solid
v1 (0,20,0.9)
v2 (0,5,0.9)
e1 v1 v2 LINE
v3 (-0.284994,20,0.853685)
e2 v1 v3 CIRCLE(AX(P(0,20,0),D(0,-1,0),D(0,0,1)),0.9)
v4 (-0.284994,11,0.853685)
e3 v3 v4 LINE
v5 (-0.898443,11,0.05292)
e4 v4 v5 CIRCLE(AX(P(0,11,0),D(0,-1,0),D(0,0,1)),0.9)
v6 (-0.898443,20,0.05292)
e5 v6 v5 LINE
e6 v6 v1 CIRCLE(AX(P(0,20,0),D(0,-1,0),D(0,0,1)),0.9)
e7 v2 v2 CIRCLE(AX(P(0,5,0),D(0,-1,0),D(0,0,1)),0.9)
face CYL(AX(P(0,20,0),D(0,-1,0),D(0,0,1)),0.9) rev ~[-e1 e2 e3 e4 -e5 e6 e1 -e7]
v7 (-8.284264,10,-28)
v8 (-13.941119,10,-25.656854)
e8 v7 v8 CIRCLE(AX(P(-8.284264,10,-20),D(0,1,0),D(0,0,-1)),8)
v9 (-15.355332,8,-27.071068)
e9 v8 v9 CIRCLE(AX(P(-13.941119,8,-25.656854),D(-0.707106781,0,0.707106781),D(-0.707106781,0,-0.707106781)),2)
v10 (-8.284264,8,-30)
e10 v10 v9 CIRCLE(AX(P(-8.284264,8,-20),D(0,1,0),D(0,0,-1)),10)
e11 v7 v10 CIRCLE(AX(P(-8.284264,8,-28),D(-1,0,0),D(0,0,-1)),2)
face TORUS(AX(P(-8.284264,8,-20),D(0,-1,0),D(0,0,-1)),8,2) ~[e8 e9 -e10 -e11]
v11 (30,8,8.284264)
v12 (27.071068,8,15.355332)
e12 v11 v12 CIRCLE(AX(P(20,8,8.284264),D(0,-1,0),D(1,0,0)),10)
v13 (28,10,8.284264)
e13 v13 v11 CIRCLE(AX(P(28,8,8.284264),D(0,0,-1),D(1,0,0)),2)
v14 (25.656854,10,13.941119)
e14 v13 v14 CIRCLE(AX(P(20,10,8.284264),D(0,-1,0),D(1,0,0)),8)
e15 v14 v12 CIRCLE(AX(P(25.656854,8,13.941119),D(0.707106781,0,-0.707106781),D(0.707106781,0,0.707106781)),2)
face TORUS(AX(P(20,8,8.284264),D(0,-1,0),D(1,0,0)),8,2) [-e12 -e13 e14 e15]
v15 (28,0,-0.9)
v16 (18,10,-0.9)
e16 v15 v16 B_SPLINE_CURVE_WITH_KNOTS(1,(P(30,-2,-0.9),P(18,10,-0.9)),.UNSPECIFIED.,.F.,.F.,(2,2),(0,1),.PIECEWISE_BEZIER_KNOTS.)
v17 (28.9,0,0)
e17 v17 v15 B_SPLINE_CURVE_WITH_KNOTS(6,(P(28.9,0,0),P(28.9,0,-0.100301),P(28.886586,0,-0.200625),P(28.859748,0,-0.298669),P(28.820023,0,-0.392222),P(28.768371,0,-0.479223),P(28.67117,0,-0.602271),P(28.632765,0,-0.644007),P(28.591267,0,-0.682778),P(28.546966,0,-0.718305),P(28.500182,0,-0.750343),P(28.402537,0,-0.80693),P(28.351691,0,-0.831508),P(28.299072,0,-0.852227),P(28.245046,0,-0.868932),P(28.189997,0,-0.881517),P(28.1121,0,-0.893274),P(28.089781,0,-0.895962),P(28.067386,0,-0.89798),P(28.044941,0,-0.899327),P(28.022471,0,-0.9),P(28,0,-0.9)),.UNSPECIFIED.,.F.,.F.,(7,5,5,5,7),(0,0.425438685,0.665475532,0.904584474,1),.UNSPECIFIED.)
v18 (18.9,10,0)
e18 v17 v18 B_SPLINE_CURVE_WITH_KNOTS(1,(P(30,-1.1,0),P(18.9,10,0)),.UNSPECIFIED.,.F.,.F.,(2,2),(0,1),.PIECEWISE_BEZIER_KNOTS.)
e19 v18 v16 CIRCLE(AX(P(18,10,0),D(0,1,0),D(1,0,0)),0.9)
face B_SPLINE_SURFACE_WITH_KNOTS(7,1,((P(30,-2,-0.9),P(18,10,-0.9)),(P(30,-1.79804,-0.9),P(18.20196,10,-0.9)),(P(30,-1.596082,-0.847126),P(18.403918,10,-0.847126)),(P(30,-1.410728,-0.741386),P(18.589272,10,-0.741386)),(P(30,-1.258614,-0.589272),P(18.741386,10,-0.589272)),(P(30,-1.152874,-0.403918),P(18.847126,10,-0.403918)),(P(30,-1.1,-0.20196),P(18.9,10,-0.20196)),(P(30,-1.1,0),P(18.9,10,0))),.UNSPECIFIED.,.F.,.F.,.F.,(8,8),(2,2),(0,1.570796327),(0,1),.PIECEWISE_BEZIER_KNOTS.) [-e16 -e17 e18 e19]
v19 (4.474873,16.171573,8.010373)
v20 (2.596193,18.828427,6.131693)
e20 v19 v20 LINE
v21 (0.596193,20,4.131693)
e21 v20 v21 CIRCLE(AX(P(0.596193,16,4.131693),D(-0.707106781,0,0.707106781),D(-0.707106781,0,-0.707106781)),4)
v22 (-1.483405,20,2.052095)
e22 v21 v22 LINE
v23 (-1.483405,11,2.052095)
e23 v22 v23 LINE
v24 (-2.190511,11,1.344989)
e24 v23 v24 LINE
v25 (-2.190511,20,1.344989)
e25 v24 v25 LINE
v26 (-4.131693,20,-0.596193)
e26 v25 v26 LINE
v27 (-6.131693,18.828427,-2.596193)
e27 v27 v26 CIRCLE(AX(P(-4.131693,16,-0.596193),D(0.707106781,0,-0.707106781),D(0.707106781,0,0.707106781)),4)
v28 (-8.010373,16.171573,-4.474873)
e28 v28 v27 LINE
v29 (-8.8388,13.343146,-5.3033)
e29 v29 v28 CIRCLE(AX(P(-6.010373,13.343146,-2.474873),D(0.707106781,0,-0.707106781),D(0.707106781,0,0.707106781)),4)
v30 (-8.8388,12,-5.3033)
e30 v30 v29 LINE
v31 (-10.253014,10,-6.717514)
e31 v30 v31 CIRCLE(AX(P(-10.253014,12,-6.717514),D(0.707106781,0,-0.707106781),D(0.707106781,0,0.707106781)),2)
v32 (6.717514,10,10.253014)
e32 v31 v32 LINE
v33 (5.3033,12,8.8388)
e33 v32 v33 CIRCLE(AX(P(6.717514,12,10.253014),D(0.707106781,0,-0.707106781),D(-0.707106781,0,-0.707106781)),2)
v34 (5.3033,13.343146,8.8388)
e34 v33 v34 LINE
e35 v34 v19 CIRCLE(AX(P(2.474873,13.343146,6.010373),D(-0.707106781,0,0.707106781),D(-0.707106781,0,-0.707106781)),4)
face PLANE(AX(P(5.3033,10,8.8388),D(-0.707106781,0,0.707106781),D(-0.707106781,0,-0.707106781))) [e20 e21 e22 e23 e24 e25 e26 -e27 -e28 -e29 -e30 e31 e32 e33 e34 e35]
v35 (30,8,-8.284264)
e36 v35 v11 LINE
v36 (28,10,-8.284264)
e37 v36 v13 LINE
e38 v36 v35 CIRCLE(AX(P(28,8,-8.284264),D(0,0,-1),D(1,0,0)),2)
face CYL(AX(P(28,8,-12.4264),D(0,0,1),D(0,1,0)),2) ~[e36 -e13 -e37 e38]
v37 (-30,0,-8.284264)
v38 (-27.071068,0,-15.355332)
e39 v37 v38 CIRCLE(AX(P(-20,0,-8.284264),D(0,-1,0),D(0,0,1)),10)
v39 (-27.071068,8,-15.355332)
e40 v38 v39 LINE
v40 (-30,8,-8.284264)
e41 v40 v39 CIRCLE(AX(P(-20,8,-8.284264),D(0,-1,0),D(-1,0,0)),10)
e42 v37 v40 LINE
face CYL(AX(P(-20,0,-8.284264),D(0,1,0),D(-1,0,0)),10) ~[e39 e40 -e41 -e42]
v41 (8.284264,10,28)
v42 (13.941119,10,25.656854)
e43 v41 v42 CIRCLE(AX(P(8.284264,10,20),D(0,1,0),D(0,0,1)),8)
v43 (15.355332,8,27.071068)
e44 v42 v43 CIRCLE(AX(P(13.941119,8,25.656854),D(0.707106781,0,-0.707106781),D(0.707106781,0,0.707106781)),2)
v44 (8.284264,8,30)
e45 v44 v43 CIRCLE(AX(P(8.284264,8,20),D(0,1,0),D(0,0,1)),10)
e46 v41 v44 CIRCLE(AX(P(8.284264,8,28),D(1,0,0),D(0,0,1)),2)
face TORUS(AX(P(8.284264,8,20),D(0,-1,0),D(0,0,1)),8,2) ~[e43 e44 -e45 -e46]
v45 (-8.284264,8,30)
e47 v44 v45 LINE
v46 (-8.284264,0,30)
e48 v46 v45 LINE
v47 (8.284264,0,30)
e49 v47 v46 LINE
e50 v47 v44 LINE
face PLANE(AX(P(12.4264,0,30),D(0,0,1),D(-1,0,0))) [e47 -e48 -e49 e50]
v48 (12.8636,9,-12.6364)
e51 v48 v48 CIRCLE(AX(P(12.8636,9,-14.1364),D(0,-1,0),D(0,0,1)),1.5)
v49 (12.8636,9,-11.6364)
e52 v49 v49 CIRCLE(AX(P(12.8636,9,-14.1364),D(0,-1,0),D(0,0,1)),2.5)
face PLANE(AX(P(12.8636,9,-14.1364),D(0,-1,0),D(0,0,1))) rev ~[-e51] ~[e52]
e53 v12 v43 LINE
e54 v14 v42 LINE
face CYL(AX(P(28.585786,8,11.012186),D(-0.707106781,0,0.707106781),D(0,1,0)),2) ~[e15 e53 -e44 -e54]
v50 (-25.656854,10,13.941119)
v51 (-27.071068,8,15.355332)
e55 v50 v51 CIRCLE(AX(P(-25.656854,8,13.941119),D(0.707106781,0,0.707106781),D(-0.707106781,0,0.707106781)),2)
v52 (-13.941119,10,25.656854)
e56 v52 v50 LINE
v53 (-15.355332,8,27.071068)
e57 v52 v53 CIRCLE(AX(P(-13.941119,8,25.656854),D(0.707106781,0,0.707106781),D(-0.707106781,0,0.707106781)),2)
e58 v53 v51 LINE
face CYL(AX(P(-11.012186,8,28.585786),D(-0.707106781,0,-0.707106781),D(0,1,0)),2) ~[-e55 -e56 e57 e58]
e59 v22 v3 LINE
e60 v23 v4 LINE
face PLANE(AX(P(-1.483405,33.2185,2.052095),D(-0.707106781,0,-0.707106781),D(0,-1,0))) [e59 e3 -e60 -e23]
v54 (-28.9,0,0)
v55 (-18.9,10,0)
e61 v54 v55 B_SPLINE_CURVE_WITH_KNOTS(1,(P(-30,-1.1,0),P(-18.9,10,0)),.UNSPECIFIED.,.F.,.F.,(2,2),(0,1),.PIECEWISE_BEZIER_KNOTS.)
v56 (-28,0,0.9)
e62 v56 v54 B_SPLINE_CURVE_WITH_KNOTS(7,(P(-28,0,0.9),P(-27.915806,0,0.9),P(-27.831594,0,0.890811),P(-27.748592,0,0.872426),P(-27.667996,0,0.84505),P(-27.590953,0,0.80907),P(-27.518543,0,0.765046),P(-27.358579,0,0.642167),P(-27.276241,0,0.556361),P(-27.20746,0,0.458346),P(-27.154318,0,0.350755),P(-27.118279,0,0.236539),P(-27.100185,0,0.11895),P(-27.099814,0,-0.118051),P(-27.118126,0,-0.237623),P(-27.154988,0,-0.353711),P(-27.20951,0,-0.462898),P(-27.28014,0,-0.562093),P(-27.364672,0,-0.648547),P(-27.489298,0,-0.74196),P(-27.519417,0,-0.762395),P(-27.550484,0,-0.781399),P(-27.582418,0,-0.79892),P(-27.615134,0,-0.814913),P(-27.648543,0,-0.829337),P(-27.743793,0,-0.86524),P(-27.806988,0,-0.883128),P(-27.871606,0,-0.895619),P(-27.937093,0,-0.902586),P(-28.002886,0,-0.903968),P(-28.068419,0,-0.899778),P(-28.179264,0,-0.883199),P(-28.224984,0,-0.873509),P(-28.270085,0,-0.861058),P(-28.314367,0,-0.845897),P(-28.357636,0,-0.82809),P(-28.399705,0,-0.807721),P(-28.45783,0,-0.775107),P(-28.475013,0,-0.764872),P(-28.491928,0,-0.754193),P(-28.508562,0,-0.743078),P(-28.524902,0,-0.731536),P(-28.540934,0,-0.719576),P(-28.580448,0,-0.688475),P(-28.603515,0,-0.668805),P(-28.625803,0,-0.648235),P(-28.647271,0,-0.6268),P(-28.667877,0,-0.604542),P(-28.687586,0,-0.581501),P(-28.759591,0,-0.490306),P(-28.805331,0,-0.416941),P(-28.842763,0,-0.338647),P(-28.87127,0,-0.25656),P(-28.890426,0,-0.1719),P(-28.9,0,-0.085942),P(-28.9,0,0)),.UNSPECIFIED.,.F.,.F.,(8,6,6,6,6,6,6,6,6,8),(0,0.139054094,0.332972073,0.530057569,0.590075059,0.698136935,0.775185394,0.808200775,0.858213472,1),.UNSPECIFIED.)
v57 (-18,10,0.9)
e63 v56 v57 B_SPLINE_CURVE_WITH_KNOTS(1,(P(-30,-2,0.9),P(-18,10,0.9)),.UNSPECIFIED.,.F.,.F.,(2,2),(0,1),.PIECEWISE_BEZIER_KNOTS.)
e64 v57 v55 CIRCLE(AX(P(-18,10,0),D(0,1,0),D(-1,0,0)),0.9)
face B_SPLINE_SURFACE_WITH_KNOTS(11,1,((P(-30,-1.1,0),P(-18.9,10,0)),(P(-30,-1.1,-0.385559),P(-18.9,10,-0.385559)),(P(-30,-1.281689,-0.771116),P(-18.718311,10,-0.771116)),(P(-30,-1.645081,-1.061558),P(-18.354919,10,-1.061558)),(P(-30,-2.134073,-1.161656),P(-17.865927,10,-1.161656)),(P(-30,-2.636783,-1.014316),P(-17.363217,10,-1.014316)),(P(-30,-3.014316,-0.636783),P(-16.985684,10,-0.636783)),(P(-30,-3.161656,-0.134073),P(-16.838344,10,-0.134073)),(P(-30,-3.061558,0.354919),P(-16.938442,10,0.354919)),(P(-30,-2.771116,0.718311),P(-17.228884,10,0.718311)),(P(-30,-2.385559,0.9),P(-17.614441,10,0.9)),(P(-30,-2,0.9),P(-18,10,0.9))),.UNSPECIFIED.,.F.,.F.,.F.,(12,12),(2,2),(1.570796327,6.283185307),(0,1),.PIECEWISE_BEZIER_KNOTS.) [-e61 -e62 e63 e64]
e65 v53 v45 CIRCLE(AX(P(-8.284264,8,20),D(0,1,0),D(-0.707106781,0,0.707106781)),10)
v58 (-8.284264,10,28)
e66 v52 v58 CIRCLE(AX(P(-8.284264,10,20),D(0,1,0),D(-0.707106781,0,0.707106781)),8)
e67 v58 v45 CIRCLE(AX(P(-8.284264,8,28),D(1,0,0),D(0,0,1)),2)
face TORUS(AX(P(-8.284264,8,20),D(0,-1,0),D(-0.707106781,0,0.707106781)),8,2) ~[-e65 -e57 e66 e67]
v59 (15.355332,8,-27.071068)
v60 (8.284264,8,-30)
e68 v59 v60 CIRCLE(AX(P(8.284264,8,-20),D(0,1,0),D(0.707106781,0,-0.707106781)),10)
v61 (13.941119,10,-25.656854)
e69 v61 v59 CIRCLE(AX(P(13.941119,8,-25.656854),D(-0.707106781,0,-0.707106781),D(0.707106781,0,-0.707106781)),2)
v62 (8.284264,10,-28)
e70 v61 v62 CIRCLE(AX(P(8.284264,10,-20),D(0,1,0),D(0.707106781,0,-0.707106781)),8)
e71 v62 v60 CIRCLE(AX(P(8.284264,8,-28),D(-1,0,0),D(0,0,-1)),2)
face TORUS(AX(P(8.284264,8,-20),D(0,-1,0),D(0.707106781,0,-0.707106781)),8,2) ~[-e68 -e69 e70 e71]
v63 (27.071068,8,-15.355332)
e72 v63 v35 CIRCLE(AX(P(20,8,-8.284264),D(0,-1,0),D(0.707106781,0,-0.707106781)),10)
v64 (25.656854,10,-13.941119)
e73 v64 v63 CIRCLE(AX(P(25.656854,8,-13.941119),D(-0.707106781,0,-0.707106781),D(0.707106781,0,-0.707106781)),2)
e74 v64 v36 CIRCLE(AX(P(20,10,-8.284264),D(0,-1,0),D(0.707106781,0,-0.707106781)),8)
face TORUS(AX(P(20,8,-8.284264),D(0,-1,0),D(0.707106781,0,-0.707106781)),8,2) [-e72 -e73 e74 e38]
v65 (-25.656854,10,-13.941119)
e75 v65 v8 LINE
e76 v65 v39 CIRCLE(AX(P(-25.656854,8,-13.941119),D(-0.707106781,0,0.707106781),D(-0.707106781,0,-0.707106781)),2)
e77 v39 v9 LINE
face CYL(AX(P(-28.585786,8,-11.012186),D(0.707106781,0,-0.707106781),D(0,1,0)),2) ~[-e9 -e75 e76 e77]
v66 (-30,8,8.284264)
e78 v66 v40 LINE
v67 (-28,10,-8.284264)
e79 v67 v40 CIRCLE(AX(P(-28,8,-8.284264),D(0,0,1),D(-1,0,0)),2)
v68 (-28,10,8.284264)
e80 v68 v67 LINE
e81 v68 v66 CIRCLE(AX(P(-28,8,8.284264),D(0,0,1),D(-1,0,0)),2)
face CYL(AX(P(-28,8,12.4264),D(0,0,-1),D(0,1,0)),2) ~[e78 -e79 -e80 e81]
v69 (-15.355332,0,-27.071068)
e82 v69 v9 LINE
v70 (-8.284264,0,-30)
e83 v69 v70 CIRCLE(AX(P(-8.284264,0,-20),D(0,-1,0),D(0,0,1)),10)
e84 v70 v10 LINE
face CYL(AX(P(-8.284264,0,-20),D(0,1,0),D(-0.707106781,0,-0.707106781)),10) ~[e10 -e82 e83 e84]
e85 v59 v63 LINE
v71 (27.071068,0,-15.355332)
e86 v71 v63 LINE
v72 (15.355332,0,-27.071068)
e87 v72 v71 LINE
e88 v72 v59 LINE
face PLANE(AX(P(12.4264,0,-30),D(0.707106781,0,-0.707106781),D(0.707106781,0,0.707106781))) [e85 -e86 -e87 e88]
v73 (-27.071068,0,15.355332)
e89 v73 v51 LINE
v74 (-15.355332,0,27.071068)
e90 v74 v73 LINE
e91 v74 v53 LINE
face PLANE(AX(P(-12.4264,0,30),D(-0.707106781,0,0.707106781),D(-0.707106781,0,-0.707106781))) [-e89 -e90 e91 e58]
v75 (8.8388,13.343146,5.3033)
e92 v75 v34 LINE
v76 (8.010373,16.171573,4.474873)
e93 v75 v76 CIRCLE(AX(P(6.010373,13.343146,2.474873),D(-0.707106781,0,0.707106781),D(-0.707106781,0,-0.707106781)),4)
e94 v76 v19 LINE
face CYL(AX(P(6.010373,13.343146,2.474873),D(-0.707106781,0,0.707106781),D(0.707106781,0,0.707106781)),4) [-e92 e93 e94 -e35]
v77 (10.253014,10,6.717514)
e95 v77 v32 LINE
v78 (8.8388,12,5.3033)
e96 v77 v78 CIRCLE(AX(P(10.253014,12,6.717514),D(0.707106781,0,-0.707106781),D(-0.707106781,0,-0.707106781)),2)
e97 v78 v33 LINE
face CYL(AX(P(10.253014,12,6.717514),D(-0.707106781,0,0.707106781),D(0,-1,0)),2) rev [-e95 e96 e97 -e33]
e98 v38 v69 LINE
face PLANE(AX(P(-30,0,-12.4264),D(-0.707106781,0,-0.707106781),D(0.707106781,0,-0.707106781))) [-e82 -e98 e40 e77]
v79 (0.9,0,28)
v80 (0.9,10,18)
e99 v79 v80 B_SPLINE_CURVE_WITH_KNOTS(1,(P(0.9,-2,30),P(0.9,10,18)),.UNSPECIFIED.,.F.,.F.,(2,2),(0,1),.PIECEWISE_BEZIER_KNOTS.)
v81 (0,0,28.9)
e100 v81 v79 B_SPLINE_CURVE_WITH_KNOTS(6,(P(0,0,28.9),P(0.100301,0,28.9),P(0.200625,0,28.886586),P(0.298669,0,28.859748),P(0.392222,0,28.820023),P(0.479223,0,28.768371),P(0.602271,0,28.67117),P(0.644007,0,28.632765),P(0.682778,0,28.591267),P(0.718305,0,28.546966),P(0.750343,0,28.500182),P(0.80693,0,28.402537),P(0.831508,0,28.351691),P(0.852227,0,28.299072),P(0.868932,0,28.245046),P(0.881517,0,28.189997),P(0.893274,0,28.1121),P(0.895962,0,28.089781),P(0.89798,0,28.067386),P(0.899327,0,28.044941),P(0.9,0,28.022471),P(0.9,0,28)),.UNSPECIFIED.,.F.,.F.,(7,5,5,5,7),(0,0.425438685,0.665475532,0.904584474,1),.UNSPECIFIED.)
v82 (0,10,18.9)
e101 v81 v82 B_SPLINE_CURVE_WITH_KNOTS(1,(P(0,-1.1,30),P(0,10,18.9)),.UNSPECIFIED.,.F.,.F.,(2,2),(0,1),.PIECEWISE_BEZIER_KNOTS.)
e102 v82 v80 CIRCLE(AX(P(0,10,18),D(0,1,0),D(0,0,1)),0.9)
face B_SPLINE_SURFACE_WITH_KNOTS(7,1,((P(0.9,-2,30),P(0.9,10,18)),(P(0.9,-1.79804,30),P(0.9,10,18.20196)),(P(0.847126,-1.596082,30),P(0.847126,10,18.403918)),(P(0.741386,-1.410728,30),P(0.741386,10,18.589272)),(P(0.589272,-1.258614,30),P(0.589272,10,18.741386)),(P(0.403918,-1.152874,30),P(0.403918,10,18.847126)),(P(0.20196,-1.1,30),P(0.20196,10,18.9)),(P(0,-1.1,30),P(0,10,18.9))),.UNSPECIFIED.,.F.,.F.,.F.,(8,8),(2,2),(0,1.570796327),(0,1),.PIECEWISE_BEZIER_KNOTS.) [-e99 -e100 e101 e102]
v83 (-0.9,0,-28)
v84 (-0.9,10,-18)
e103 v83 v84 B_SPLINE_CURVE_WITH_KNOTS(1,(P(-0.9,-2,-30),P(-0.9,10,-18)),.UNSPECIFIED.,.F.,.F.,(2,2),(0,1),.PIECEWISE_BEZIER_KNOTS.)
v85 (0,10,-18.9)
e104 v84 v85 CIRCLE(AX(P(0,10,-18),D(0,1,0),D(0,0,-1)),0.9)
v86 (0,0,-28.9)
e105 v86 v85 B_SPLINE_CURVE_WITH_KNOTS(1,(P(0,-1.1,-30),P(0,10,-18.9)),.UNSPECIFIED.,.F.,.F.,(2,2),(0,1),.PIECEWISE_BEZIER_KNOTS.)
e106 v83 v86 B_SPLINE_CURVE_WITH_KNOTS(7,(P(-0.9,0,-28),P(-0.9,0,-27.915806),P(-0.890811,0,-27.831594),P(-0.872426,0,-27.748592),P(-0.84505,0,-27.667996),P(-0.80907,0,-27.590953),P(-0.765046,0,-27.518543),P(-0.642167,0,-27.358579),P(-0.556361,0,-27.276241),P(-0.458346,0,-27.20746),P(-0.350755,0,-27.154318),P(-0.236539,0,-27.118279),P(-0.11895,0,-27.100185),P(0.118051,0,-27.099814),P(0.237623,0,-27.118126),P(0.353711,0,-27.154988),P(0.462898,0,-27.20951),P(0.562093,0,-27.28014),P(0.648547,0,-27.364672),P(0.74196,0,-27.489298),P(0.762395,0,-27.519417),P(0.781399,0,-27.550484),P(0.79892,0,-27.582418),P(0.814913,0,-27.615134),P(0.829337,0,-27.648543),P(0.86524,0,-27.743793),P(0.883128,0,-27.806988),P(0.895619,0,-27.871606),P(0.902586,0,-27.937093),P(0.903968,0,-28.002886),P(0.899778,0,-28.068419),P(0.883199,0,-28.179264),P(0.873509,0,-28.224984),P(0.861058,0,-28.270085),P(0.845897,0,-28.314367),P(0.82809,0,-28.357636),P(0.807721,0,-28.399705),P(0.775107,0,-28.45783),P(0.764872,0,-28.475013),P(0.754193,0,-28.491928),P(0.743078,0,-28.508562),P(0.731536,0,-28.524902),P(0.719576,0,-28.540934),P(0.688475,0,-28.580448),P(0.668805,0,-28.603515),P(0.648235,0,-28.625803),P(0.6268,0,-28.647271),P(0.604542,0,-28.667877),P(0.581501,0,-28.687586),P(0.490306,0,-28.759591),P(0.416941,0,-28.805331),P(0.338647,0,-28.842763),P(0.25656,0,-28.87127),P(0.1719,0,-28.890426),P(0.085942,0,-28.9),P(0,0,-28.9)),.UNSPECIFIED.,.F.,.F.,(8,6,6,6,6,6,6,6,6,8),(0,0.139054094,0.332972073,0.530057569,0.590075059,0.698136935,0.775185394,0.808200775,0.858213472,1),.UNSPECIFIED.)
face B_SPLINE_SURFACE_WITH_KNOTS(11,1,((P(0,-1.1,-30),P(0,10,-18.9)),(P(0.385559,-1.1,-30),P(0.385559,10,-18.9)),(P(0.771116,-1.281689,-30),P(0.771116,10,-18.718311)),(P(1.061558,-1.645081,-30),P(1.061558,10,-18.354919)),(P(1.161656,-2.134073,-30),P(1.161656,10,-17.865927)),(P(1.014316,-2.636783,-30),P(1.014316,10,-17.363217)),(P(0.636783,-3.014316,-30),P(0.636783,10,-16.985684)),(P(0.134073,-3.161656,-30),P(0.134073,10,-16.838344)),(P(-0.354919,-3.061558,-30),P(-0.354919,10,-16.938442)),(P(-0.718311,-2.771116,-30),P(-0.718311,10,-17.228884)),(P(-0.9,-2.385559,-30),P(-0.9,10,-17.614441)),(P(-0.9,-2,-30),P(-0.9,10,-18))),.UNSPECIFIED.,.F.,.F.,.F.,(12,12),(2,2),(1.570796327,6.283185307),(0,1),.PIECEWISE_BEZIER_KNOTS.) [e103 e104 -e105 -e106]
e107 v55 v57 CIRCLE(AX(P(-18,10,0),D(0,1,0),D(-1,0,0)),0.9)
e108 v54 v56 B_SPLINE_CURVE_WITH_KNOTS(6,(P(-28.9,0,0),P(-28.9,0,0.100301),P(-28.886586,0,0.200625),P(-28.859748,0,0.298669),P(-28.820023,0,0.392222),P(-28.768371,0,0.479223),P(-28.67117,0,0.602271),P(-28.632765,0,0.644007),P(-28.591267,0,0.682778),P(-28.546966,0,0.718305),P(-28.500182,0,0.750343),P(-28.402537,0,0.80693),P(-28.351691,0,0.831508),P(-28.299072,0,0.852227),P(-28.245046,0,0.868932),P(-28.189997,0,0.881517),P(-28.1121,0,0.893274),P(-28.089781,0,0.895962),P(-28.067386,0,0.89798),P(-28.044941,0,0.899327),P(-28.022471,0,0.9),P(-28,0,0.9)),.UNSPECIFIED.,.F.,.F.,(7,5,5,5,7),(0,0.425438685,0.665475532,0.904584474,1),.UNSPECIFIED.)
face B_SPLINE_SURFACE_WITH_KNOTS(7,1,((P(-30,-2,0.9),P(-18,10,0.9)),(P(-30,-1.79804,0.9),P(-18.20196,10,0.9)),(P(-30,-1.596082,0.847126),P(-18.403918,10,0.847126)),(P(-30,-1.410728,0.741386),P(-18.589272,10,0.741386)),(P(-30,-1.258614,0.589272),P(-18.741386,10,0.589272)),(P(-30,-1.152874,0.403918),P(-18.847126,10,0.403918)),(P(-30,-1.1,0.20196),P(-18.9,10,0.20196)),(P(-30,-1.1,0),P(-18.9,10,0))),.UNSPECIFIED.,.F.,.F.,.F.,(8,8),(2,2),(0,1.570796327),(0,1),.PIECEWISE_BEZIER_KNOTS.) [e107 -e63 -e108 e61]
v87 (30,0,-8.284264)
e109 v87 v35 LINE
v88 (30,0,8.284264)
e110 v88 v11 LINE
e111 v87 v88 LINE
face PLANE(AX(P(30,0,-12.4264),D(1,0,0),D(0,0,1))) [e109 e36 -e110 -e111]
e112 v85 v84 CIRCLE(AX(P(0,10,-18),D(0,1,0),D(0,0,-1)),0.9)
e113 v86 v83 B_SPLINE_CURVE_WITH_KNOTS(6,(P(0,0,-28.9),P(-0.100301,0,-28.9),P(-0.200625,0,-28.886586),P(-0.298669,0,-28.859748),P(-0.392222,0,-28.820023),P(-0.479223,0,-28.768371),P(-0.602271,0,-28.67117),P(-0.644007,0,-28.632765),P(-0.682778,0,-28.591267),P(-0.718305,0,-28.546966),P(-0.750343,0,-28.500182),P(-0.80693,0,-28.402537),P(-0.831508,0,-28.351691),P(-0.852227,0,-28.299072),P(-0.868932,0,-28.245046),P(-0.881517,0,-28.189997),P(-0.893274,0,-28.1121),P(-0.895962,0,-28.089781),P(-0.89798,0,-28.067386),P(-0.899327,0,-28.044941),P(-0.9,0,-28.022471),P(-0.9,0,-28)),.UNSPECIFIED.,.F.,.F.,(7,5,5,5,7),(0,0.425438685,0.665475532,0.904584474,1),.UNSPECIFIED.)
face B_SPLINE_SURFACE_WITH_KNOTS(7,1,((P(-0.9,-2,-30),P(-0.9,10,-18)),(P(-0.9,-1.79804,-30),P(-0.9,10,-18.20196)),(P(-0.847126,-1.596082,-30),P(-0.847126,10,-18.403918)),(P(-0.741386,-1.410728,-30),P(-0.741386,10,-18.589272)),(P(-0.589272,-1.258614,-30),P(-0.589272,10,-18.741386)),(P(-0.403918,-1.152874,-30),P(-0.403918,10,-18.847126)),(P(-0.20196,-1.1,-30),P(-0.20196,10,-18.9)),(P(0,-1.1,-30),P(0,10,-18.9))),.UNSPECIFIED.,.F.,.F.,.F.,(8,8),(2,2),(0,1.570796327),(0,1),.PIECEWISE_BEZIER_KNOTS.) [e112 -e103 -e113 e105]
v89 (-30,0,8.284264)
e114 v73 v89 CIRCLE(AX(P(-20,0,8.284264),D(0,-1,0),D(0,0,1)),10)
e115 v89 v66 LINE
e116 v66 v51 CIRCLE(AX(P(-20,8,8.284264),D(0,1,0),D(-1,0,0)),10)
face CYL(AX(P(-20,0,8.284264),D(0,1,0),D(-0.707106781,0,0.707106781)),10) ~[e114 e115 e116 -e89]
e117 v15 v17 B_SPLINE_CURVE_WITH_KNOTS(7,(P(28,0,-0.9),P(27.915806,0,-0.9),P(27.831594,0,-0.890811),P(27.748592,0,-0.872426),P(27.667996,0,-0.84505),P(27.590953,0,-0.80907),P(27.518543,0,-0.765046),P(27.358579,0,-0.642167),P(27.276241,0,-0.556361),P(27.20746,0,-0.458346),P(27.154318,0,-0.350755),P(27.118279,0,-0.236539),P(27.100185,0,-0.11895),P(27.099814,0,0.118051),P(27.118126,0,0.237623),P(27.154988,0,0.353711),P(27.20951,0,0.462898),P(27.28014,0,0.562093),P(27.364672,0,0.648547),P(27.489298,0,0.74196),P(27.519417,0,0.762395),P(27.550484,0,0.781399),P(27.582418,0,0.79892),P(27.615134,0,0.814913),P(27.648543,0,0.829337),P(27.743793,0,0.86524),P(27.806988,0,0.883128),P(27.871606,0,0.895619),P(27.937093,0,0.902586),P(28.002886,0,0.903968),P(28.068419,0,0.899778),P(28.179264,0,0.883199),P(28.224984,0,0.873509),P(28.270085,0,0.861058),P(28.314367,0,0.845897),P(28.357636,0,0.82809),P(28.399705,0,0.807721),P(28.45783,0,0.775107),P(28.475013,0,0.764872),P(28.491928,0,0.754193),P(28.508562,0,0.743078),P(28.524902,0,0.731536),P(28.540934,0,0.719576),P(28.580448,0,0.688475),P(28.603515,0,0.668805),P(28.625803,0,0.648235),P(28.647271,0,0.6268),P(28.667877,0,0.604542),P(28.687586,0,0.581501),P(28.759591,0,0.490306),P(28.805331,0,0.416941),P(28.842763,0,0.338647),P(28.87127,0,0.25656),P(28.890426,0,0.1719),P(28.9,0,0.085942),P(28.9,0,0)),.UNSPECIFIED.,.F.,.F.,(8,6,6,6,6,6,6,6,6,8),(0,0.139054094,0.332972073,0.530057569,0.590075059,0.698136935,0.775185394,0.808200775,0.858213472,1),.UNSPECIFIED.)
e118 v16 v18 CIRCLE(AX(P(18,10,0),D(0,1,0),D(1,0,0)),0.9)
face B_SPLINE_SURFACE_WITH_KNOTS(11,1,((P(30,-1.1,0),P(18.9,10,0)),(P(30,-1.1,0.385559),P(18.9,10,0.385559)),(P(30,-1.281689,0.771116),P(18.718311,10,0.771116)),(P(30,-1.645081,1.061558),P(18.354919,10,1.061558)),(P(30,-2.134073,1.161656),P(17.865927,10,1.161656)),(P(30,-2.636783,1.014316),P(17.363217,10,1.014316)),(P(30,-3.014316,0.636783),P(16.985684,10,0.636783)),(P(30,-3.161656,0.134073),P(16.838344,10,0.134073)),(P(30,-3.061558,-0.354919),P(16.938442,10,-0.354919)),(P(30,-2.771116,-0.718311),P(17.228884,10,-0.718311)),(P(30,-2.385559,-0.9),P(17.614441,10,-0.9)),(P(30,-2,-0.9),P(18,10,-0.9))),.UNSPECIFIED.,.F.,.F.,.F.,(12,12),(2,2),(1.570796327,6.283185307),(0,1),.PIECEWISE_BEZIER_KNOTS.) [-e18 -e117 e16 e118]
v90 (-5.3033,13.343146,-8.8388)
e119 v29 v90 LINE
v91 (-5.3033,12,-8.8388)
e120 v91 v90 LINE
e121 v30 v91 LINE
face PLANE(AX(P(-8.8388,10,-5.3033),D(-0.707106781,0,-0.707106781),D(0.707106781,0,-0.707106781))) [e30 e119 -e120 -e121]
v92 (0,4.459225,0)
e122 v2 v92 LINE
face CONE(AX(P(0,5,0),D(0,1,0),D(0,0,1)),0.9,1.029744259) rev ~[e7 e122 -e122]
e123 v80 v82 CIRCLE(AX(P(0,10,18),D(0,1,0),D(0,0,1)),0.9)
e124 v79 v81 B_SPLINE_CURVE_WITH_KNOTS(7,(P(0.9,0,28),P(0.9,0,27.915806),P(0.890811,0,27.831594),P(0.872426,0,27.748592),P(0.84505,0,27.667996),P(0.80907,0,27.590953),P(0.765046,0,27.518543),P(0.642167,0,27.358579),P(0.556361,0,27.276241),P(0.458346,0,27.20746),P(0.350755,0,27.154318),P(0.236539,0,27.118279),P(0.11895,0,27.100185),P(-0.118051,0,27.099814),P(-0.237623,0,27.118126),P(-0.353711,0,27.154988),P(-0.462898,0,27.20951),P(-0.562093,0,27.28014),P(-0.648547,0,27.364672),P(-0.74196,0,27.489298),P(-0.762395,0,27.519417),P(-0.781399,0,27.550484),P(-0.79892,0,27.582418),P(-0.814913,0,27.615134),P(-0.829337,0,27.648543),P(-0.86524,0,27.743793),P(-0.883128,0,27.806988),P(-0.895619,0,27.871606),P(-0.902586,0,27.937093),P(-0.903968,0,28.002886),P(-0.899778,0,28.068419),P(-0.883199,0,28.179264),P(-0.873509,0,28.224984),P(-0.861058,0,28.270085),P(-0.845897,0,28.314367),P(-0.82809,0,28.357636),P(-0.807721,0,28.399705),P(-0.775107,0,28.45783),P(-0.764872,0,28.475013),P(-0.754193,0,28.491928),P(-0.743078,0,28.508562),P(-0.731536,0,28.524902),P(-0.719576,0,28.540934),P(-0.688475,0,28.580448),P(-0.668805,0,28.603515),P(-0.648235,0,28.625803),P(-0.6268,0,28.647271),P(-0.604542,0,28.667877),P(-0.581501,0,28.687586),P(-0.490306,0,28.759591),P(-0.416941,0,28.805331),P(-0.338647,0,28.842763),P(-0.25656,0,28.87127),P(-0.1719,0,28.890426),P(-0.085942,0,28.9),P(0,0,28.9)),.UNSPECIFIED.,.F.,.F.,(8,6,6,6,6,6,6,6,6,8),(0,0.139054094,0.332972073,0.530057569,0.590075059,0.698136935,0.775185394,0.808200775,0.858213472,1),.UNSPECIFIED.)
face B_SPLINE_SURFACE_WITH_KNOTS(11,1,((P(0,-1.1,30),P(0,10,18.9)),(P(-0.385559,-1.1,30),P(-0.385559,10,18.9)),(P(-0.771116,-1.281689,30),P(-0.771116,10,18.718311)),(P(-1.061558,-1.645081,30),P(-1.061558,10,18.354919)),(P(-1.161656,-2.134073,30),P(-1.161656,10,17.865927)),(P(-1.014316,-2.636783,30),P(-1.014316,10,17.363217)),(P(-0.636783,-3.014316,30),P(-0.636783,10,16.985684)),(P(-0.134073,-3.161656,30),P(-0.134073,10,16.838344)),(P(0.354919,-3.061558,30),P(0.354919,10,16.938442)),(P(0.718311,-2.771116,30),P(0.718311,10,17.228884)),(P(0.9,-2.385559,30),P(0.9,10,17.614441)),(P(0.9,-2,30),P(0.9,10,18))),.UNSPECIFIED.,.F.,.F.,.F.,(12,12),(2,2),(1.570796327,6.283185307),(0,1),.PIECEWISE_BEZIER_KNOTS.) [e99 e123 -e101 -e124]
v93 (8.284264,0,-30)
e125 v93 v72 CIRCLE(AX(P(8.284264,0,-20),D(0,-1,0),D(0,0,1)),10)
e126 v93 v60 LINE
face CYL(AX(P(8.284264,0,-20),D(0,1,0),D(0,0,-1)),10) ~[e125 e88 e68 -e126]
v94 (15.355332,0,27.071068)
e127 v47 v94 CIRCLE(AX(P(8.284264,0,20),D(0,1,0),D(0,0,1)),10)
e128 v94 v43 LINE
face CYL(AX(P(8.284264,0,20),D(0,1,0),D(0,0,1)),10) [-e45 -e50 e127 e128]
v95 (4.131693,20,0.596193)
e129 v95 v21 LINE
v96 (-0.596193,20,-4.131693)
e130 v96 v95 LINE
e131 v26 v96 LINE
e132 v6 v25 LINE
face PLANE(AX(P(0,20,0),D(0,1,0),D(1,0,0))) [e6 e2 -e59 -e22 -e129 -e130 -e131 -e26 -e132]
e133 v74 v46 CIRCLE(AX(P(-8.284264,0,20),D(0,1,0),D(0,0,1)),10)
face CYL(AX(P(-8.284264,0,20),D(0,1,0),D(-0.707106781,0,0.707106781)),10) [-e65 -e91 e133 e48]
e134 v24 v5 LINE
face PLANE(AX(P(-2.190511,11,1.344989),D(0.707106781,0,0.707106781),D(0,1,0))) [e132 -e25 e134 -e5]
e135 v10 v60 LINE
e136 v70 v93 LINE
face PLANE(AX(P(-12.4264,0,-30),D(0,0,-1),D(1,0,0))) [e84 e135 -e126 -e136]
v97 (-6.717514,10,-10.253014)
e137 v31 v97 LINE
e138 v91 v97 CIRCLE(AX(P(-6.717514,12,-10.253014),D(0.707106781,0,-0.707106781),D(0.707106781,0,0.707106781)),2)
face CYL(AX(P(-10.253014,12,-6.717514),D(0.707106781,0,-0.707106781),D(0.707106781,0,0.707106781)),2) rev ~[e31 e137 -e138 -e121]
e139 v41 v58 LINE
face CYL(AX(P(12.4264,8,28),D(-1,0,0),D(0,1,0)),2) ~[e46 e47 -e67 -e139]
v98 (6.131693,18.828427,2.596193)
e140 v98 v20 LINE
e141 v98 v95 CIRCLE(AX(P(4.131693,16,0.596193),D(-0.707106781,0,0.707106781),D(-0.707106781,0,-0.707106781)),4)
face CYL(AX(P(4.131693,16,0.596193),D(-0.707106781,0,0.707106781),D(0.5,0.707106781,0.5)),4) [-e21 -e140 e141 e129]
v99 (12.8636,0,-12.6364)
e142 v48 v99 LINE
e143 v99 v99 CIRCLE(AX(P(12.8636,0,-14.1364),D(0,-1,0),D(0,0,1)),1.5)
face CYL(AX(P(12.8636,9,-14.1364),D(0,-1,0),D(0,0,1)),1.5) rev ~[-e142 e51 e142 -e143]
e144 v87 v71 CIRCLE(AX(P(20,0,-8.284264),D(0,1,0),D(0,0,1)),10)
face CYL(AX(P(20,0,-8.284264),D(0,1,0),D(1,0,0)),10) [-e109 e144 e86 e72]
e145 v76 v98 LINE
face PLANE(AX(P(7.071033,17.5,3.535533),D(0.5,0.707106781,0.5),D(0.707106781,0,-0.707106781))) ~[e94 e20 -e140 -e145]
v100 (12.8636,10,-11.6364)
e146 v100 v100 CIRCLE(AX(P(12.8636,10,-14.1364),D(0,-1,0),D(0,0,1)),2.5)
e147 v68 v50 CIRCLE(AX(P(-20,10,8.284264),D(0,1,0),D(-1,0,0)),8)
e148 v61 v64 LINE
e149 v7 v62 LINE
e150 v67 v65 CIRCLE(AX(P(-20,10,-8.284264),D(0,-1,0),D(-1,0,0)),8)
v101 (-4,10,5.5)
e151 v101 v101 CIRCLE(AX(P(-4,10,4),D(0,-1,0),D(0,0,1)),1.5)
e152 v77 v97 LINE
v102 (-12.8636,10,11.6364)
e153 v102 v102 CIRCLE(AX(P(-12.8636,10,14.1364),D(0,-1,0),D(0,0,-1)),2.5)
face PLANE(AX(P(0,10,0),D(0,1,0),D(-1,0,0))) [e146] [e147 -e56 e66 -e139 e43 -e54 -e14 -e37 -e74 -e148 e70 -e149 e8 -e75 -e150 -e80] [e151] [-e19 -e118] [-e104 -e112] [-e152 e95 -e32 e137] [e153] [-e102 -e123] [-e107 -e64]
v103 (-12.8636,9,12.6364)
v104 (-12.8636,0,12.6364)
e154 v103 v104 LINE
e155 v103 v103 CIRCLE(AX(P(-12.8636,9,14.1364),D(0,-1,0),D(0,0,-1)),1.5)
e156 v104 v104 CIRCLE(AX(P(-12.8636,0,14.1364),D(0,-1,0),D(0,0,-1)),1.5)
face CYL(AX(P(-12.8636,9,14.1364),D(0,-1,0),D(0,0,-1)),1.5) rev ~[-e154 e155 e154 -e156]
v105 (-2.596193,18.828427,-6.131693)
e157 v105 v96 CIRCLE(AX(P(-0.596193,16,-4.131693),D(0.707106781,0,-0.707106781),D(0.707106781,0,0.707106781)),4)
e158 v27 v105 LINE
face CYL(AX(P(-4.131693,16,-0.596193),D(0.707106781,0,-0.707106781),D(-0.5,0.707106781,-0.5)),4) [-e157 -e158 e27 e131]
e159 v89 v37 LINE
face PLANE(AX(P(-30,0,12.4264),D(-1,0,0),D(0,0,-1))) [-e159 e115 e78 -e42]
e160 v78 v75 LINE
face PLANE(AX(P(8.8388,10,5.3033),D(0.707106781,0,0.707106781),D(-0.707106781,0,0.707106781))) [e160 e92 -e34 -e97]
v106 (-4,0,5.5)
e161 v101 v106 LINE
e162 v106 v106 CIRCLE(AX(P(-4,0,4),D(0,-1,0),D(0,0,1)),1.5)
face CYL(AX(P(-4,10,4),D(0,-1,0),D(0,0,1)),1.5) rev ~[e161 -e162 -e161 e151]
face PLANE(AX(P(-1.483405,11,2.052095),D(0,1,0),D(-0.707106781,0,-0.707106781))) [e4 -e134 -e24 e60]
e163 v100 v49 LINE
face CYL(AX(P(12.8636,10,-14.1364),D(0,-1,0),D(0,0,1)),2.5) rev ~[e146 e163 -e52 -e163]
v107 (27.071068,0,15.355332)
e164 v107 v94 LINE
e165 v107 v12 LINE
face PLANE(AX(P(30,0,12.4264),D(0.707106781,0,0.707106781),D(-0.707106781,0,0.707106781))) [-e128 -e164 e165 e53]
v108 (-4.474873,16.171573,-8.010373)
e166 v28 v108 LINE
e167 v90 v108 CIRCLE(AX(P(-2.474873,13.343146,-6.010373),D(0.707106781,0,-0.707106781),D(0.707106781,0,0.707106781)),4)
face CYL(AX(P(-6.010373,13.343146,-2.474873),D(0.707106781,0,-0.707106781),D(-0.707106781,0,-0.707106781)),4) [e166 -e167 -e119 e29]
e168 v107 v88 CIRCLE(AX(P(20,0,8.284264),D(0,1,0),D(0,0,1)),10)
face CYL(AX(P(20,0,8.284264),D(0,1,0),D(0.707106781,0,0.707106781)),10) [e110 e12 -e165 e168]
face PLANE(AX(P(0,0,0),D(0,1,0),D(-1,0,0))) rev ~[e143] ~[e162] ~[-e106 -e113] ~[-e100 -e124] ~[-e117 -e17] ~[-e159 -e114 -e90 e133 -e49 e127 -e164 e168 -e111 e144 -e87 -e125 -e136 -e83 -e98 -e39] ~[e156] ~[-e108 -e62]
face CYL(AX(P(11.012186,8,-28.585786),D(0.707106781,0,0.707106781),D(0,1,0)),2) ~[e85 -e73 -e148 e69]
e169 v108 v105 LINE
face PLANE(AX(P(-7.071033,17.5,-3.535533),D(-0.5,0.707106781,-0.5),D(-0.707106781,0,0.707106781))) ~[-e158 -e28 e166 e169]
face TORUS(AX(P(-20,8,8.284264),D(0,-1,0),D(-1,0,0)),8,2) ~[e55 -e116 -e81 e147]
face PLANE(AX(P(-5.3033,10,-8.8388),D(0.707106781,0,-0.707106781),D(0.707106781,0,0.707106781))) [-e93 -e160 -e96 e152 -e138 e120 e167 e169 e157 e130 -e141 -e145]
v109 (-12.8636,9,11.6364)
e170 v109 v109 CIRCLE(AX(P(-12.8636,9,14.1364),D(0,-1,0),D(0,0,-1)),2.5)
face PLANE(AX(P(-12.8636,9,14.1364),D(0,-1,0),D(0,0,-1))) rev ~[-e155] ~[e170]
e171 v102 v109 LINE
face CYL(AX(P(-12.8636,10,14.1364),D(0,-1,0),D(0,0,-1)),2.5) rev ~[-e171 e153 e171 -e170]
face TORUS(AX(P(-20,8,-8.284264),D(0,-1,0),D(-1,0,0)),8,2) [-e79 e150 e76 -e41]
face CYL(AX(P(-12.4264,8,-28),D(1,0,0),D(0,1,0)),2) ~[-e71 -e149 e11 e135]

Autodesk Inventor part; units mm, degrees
ref_plane "YZ Plane" through (0, 0, 0) normal (1, 0, 0) x (0, 1, 0)
ref_plane "XZ Plane" through (0, 0, 0) normal (0, 1, 0) x (-1, 0, 0)
ref_plane "XY Plane" through (0, 0, 0) normal (0, 0, 1) x (1, 0, 0)
sketch "Sketch5" plane through (0, 0, 0) normal (0, 1, 0) x (-1, 0, 0)
  line L0 (12.4264, 30) -> (30, 12.4264)
  line L1 (30, 12.4264) -> (30, -12.4264)
  line L2 (30, -12.4264) -> (12.4264, -30)
  line L3 (12.4264, -30) -> (-12.4264, -30)
  line L4 (-12.4264, -30) -> (-30, -12.4264)
  line L5 (-30, -12.4264) -> (-30, 12.4264)
  line L6 (-30, 12.4264) -> (-12.4264, 30)
  line L7 (-12.4264, 30) -> (12.4264, 30)
  point P0 (0, 0)
  dimension "d19" = 60
extrude "Extrusion3" add sketch "Sketch5" along normal blind 10
sketch "Sketch6" plane through (0, 10, 0) normal (0, 1, 0) x (1, 0, 0)
  circle A0 centre (18, 0) radius 0.9
  line L0 (30, -12.4264) -> (30, 12.4264) projected
  line L1 (30, 0) -> (0, 0) construction
  dimension "d11" = 1.8
  dimension "d20" = 12
sketch "Sketch8" plane through (30, 0, 12.4264) normal (1, 0, 0) x (0, 0, -1)
  circle A0 centre (12.4264, -2) radius 0.9
  line L0 (0, 10) -> (24.8528, 10) projected
  line L1 (12.4264, 0) -> (12.4264, 10) construction
  dimension "d21" = 1.8
  dimension "d22" = 12
loft "Loft2" cut profiles "Sketch8", "Sketch6"
pattern_circular "Circular Pattern1" count 4 over 360 about axis through (0, -10, 0) along (0, 1, 0) of "Loft2"
sketch "Sketch9" plane through (0, 10, 0) normal (0, 1, 0) x (1, 0, 0)
  line L0 (-5.3033, 8.8388) -> (8.8388, -5.3033)
  line L1 (8.8388, -5.3033) -> (5.3033, -8.8388)
  line L2 (5.3033, -8.8388) -> (-8.8388, 5.3033)
  line L3 (-8.8388, 5.3033) -> (-5.3033, 8.8388)
  line L4 (-5.3033, 8.8388) -> (5.3033, -8.8388) construction
  line L5 (8.8388, -5.3033) -> (-8.8388, 5.3033) construction
  line L6 (-30, -12.4264) -> (-12.4264, -30) construction
  point P0 (0, 0)
  dimension "d30" = 5
  dimension "d62" = 20
extrude "Extrusion4" add sketch "Sketch9" along normal blind 10
sketch "Sketch10" plane through (0, 20, 0) normal (0, 1, 0) x (1, 0, 0)
  point P0 (0, 0)
  point P1 (0, 0)
hole "Hole1" at (0, 20, 0) direction (0, -1, 0) diameter 1.8 depth 15 tip angle 118
chamfer "Chamfer1" distance 5 angle 45 2 edges at (7.0711, 20, 7.0711) (-7.0711, 20, -7.0711)
fillet "Fillet3" radius 10 8 edges at (-30, 5, 12.4264) (-12.4264, 5, 30) (-30, 5, -12.4264) (-12.4264, 5, -30) (12.4264, 5, 30) (12.4264, 5, -30) (30, 5, -12.4264) (30, 5, 12.4264)
fillet "Fillet3" radius 2 10 edges at (21.2132, 10, -21.2132) (0, 10, -30) (30, 10, 0) (-30, 10, 0) (-21.2132, 10, 21.2132) (0, 10, 30) (-21.2132, 10, -21.2132) (21.2132, 10, 21.2132) (-7.0711, 10, -7.0711) (7.0711, 10, 7.0711)
fillet "Fillet3" radius 4 4 edges at (-7.0711, 15, -7.0711) (-3.5355, 20, -3.5355) (3.5355, 20, 3.5355) (7.0711, 15, 7.0711)
sketch "Sketch12" plane through (0, 10, 0) normal (0, -1, 0) x (1, 0, 0)
  line L0 (17.3636, -0.6364) -> (-0.6364, -18.6364) construction
  line L1 (12.8636, -5.1364) -> (3.8636, -5.1364) construction
  line L2 (3.8636, -5.1364) -> (3.8636, -14.1364) construction
  line L3 (3.8636, -14.1364) -> (12.8636, -14.1364) construction
  line L4 (12.8636, -14.1364) -> (12.8636, -5.1364) construction
  line L5 (12.8636, -5.1364) -> (3.8636, -14.1364) construction
  line L6 (3.8636, -5.1364) -> (12.8636, -14.1364) construction
  point P0 (0, 0)
  point P1 (18.9, 0)
  point P2 (0, -18.9)
  point P3 (8.3636, -9.6364)
  dimension "d51" = 9
hole "Hole2" at (12.8636, 10, -14.1364) direction (0, -1, 0) diameter 3 end through all counterbore diameter 5 counterbore depth 1
pattern_circular "Circular Pattern2" count 2 over 360 about axis through (0, 12.5, 0) along (0, 1, 0) of "Hole2"
sketch "Sketch14" plane through (-8.8388, 10, -5.3033) normal (-0.7071, 0, 0.7071) x (0.7071, 0, 0.7071)
  line L0 (9.4021, 23.2185) -> (10.4021, 23.2185)
  line L1 (10.4021, 23.2185) -> (10.4021, 1)
  line L2 (10.4021, 1) -> (9.4021, 1)
  line L3 (9.4021, 1) -> (9.4021, 23.2185)
  line L4 (9.4021, 23.2185) -> (10.4021, 1) construction
  line L5 (10.4021, 23.2185) -> (9.4021, 1) construction
  line L6 (18.2843, 0) -> (1.7157, 0) projected
  point P0 (10, -10)
  point P1 (9.9021, 12.1093)
  dimension "d63" = 1
  dimension "d64" = 1
extrude "Extrusion6" cut sketch "Sketch14" against normal up to surface
sketch "Sketch15" plane through (0, 10, 0) normal (0, 1, 0) x (1, 0, 0)
  line L0 (0, 0) -> (-4, -4) construction
  line L1 (8.2843, -28) -> (-8.2843, -28) construction
  point P0 (14.2843, -28)
  dimension "d67" = 45
  dimension "d68" = 4
hole "Hole3" at (-4, 10, 4) direction (0, -1, 0) diameter 3 end through all
equation "\"d22\" = d20"
properties part number "holder"
